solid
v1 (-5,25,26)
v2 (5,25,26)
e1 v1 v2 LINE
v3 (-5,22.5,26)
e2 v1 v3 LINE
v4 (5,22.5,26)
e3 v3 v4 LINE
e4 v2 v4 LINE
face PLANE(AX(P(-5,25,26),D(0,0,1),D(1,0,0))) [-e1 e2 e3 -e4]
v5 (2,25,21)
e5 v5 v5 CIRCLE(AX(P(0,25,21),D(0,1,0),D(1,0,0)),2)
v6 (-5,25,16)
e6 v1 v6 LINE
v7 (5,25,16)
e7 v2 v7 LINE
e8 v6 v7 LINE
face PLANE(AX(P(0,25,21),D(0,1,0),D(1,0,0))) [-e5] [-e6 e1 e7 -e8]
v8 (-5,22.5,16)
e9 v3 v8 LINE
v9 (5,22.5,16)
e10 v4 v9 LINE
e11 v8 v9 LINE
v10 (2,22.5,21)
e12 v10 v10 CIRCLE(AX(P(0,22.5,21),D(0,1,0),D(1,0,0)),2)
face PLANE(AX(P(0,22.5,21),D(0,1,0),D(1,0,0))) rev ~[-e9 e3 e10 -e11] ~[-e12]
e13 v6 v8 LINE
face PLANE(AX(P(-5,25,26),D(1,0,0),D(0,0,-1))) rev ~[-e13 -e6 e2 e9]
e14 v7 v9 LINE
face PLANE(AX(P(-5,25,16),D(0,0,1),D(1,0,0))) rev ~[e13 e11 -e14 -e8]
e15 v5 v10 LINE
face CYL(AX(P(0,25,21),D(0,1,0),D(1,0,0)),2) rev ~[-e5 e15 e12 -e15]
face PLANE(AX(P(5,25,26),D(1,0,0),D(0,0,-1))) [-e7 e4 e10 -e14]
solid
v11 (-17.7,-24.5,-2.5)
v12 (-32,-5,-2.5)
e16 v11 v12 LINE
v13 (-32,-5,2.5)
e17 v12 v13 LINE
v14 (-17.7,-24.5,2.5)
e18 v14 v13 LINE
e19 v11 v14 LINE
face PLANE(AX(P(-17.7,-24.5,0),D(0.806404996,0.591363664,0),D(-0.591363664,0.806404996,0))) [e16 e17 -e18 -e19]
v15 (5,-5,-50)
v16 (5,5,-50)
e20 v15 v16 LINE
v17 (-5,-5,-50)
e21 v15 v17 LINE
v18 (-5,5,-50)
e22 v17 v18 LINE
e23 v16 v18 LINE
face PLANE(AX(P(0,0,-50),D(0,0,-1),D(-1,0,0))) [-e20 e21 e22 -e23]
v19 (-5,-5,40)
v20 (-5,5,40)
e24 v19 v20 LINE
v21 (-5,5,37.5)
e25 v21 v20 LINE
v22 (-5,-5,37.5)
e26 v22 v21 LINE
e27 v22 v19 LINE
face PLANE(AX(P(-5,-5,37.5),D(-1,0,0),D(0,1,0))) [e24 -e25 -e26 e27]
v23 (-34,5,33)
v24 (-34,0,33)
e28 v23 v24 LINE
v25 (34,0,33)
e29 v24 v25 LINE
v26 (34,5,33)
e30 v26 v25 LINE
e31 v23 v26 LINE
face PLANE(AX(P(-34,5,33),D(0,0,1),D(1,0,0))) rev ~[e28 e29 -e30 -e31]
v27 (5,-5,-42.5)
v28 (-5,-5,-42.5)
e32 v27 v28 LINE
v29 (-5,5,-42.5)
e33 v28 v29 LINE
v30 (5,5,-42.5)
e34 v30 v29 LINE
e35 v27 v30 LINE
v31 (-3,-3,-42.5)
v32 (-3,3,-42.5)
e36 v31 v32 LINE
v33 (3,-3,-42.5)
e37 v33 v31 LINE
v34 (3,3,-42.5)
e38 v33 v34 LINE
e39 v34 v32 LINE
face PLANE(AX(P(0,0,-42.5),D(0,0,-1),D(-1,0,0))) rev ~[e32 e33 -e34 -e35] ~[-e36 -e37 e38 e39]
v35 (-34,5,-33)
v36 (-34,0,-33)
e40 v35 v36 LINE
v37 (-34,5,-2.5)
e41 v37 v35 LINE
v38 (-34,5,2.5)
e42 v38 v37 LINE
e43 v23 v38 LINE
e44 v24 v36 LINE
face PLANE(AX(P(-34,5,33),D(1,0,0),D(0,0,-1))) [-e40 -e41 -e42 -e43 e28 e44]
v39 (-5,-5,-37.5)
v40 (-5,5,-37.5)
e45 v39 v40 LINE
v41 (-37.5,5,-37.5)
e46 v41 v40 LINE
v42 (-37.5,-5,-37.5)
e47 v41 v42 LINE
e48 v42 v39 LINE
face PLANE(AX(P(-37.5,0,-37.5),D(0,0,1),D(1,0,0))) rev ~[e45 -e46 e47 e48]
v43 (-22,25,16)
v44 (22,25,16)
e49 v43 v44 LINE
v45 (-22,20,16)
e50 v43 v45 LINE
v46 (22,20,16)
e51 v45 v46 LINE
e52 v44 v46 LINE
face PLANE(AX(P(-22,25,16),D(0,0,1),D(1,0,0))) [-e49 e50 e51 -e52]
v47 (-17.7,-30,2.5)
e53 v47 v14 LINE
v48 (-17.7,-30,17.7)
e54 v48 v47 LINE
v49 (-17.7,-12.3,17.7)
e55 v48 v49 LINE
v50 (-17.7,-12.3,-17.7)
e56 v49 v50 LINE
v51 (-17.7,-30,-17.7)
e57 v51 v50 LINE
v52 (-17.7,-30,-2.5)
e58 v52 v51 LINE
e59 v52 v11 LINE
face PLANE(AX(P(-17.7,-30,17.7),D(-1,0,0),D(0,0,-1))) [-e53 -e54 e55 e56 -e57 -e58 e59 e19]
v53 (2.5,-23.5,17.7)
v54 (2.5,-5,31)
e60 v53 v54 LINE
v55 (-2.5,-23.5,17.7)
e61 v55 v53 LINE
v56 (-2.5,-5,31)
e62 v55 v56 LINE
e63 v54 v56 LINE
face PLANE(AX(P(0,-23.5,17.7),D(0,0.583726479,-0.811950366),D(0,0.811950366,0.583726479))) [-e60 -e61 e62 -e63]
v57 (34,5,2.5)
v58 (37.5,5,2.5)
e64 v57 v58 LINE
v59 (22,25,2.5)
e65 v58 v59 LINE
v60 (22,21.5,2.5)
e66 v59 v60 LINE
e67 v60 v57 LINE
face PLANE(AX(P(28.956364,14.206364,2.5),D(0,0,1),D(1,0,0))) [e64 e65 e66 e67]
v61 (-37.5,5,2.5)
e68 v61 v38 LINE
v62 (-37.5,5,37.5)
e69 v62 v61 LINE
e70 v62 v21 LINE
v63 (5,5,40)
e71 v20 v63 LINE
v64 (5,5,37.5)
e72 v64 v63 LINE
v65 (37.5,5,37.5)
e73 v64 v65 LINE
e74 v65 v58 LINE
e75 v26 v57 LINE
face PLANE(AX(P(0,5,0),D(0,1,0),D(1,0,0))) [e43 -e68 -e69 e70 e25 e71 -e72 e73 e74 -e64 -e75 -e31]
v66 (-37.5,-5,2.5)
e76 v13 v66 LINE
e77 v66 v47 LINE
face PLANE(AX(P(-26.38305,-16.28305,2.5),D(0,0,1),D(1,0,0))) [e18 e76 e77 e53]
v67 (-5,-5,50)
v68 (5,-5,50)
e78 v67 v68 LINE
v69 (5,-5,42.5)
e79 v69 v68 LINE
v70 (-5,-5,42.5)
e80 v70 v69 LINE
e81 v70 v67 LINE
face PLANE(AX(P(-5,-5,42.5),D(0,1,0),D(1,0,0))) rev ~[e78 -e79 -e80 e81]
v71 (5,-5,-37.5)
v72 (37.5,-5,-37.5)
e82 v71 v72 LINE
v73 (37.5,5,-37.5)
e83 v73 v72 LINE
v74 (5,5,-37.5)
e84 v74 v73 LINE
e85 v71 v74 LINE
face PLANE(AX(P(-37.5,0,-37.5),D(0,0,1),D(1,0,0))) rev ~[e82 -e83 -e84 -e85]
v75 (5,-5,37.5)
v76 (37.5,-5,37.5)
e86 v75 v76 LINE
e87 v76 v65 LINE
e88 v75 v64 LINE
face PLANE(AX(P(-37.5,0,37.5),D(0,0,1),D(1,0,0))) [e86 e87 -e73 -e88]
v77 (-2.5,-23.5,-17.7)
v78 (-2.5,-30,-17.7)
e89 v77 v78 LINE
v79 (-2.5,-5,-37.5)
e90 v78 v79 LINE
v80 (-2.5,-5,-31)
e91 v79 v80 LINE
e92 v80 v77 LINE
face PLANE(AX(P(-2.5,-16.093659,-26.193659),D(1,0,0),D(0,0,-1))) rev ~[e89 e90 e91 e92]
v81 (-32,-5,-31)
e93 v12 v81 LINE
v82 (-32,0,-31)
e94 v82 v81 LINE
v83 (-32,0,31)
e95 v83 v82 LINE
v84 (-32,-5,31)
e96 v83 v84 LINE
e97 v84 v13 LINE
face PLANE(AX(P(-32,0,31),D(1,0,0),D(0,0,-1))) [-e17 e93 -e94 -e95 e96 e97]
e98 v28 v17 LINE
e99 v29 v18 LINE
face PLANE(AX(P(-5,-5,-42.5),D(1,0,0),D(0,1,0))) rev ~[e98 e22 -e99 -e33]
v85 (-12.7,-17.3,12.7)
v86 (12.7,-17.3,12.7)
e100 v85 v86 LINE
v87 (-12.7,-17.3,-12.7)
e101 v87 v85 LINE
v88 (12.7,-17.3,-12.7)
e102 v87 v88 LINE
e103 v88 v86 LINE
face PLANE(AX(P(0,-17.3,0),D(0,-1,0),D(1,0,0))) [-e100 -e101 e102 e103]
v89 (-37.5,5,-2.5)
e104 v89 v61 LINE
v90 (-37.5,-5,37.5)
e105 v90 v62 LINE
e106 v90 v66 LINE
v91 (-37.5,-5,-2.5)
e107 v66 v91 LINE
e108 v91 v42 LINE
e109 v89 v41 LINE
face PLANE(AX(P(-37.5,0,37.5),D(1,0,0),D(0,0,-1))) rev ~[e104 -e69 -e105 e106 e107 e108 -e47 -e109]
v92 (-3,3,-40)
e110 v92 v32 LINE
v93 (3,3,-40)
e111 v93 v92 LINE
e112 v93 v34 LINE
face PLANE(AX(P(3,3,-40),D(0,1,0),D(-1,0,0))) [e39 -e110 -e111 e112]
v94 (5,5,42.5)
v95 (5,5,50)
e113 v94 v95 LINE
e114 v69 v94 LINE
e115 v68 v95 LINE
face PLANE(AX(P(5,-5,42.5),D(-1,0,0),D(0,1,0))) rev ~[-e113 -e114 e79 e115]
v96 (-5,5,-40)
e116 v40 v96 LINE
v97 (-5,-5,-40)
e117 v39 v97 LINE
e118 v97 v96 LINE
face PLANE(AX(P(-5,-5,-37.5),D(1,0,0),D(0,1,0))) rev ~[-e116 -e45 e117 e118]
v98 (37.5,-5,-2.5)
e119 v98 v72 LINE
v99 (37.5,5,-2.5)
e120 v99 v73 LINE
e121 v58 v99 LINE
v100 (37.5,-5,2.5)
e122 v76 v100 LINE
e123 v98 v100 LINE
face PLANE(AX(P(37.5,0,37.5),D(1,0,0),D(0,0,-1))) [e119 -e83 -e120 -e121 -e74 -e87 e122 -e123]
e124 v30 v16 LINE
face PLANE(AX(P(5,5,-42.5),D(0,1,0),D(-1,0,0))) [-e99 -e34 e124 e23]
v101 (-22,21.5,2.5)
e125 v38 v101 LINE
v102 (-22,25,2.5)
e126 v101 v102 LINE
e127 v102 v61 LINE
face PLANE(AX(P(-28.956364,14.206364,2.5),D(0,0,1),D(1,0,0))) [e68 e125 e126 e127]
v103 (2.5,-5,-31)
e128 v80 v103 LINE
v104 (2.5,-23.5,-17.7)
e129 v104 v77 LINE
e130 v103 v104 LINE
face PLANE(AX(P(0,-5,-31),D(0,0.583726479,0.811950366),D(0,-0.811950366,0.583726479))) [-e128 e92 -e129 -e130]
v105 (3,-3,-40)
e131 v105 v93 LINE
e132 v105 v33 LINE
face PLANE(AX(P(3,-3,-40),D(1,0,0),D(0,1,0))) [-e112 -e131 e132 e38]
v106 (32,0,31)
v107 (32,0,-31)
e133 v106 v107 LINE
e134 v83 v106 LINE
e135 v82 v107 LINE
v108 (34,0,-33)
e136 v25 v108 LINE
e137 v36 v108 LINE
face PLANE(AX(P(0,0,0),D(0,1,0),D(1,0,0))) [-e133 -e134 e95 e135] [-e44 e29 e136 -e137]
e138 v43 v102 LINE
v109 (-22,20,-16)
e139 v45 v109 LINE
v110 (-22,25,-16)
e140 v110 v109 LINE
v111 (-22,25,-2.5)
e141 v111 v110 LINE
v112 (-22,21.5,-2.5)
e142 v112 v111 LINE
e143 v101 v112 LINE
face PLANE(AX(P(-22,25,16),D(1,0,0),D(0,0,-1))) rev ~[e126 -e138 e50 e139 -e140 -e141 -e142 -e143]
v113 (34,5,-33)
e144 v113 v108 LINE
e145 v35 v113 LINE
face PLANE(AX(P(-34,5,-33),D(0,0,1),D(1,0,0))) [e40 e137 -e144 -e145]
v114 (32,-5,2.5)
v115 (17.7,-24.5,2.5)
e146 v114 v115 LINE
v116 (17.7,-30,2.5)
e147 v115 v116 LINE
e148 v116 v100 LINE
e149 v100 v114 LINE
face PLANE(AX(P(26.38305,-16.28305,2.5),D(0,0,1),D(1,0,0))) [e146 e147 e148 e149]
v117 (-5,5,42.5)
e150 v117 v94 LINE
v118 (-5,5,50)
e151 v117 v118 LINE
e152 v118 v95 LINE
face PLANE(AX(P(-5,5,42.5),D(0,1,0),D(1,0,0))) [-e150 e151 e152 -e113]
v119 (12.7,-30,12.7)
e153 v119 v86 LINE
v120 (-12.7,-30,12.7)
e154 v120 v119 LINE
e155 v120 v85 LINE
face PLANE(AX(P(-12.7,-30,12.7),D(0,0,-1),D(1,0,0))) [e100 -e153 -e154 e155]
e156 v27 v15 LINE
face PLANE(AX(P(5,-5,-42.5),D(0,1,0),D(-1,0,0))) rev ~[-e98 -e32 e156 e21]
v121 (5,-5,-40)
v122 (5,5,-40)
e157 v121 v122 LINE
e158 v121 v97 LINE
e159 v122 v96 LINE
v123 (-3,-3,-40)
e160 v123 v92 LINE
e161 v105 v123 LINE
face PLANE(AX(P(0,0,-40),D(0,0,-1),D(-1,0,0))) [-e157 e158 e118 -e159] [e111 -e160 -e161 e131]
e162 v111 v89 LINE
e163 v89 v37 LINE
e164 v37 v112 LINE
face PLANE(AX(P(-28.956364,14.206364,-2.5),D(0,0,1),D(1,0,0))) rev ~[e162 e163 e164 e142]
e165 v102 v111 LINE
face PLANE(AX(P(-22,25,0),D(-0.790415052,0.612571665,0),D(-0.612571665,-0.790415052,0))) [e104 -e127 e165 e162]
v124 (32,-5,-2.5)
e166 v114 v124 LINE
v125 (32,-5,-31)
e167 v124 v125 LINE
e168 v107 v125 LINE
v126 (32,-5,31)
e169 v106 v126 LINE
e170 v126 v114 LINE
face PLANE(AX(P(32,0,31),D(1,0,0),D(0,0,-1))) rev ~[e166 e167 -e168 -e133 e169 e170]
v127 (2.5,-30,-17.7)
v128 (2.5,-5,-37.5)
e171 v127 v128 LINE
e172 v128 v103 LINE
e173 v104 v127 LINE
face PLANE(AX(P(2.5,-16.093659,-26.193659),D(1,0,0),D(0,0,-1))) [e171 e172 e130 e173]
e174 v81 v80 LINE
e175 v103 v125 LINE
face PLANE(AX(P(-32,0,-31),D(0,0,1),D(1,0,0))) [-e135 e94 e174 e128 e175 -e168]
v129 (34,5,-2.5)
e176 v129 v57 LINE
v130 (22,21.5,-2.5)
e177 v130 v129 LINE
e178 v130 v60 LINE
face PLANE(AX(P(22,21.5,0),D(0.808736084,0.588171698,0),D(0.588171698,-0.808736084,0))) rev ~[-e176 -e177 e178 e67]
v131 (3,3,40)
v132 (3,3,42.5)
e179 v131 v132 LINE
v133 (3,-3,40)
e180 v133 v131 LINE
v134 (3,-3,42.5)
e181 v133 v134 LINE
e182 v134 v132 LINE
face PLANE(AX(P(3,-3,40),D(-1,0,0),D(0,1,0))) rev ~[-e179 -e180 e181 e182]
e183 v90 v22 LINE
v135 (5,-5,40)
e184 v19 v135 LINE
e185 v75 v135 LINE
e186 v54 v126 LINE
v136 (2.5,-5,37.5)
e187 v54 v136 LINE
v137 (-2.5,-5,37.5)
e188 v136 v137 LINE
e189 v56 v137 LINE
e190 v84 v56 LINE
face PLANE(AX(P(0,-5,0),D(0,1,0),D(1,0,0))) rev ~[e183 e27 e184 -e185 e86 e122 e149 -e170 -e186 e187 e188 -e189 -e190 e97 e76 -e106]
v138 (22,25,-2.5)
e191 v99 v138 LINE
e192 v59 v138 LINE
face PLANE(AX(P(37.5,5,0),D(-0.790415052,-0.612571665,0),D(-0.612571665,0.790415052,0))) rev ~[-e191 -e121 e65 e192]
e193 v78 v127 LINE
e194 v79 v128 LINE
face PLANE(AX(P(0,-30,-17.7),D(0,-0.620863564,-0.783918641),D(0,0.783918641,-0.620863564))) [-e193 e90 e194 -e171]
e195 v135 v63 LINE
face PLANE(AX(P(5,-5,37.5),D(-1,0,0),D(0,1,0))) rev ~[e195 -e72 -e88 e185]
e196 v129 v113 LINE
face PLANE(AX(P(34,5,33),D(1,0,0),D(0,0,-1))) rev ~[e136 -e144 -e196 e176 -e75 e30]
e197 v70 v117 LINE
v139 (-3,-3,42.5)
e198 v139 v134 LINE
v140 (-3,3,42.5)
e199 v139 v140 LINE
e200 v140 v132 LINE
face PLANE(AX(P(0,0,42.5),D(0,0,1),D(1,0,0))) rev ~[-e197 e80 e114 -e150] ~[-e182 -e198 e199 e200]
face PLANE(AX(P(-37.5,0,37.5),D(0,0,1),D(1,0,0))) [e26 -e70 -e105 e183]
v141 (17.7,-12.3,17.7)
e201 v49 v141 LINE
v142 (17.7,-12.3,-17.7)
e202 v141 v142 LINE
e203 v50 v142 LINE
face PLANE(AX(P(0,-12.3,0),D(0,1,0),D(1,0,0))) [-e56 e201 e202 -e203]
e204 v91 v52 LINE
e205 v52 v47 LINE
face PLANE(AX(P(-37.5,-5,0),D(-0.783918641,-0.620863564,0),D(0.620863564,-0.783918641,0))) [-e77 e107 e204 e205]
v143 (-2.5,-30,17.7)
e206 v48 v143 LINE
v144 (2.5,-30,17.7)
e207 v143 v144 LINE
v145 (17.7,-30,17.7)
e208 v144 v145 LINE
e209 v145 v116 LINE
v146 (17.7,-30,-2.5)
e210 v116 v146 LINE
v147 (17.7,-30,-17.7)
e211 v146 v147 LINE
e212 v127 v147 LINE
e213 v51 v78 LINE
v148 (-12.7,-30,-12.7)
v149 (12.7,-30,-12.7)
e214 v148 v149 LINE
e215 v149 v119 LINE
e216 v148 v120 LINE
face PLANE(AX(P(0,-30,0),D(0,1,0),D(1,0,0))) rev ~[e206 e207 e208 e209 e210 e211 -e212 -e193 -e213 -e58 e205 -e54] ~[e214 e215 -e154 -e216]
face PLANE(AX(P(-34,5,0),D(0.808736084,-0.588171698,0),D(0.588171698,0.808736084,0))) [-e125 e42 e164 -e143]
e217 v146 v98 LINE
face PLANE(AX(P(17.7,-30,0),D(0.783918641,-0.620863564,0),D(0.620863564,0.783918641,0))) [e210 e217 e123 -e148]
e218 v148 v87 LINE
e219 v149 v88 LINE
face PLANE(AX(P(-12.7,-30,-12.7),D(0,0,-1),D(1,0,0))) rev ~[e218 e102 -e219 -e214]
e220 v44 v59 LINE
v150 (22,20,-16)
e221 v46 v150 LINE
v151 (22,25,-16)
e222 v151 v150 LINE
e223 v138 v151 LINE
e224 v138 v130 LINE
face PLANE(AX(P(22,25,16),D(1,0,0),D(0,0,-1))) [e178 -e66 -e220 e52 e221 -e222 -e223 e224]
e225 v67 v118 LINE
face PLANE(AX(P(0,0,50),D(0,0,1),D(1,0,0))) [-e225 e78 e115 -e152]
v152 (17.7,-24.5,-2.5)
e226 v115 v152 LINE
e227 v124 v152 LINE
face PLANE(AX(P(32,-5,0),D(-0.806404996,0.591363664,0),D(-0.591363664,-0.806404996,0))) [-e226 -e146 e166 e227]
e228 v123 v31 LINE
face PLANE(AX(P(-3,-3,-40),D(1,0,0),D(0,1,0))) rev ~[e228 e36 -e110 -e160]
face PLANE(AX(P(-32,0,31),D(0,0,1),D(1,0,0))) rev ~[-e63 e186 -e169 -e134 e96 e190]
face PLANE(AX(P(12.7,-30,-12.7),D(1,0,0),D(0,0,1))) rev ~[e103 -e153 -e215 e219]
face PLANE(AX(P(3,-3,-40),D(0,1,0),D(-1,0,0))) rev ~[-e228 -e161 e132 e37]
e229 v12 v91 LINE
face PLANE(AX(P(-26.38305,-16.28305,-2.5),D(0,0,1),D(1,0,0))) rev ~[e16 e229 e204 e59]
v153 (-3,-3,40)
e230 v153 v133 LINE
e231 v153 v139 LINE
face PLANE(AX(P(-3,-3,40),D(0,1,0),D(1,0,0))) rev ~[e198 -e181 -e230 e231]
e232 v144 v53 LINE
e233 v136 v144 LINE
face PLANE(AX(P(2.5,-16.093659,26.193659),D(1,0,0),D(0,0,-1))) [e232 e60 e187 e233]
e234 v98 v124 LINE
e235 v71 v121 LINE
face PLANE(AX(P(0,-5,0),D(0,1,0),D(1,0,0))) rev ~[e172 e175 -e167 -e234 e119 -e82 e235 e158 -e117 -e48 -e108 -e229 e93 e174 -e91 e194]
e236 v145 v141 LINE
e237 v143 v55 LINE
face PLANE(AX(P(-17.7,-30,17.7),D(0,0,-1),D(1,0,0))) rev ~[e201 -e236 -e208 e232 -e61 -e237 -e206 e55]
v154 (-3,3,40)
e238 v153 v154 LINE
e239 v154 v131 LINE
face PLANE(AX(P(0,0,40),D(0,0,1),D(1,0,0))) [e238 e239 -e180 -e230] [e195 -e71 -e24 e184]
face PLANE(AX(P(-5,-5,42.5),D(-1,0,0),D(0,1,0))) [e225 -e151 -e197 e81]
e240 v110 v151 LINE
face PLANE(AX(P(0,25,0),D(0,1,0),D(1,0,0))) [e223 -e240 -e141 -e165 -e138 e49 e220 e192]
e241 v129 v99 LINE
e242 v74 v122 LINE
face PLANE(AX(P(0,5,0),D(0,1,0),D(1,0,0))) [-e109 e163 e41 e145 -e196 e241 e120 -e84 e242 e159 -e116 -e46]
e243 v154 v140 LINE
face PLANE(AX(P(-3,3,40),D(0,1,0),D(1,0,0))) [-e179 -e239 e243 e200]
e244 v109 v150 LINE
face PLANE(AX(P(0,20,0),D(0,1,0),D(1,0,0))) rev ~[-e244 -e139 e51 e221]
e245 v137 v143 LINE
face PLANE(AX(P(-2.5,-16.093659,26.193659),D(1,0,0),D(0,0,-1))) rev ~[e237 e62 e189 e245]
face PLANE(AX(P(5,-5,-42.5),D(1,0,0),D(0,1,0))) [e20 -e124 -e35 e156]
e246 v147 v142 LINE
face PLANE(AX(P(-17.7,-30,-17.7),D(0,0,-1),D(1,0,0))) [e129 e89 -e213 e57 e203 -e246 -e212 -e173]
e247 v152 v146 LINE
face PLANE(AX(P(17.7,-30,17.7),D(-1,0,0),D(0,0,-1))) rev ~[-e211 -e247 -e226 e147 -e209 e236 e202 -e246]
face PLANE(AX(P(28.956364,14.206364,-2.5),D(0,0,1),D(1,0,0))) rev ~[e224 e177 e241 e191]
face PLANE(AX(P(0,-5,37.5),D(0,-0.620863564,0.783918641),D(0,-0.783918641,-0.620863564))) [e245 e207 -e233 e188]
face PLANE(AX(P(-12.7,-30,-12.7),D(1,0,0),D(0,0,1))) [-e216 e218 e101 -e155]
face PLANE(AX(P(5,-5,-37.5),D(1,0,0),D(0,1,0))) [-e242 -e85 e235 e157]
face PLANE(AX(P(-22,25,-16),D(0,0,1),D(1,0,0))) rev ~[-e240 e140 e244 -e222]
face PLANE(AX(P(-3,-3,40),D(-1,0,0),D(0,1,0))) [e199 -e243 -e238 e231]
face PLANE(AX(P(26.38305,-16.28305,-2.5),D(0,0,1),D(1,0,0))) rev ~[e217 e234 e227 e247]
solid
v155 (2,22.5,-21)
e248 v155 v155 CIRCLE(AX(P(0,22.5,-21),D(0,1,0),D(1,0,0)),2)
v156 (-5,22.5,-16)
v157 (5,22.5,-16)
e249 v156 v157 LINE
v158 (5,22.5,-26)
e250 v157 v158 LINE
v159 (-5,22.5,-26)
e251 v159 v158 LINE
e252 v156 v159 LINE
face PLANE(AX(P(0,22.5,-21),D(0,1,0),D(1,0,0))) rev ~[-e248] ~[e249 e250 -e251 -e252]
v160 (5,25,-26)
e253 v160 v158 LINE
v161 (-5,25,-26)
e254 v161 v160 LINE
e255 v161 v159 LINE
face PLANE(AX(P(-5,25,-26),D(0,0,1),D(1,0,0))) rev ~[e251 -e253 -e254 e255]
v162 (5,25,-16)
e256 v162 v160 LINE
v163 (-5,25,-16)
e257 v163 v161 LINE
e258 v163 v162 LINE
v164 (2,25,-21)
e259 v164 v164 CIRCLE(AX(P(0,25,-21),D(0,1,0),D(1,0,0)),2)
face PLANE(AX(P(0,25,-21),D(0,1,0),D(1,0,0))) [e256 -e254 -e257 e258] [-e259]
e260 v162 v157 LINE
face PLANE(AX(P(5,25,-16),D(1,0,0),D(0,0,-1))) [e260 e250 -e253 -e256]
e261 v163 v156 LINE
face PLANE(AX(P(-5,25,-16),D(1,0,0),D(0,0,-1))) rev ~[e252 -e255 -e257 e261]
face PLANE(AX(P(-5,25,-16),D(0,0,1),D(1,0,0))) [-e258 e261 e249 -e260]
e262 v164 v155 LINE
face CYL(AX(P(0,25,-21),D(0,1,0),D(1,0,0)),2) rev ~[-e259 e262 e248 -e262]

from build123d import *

# Parameters (mm, degrees)
SKETCH2_W              = 75
SKETCH2_H              = 75
BOSS_EXTRUDE1_DEPTH    = 5
SKETCH2_2_W            = 75
SKETCH2_2_H            = 75
BOSS_EXTRUDE2_DEPTH    = 5
SKETCH4_W              = 68
SKETCH4_H              = 66
CUT_EXTRUDE1_DEPTH     = 5
SKETCH5_W              = 64
SKETCH5_H              = 62
CUT_EXTRUDE2_DEPTH     = 5
SKETCH6_W              = 10
SKETCH6_H              = 10
BOSS_EXTRUDE3_DEPTH    = 2.5
SKETCH7_W              = 6
SKETCH7_H              = 6
BOSS_EXTRUDE4_DEPTH    = 2.5
SKETCH8_W              = 10
SKETCH8_H              = 10
BOSS_EXTRUDE5_DEPTH    = 7.5
SKETCH9_W              = 10
SKETCH9_H              = 10
BOSS_EXTRUDE6_DEPTH    = 2.5
SKETCH10_W             = 6
SKETCH10_H             = 6
BOSS_EXTRUDE7_DEPTH    = 2.5
SKETCH11_W             = 10
SKETCH11_H             = 10
BOSS_EXTRUDE8_DEPTH    = 7.5
SKETCH12_W             = 35.4
SKETCH12_H             = 35.4
BOSS_EXTRUDE9_DEPTH    = 17.7
SKETCH13_W             = 25.4
SKETCH13_H             = 25.4
CUT_EXTRUDE3_DEPTH     = 12.7
SKETCH14_W             = 44
SKETCH14_H             = 32
BOSS_EXTRUDE10_DEPTH   = 5
BOSS_EXTRUDE11_DEPTH   = 2.5
BOSS_EXTRUDE12_DEPTH   = 2.5
BOSS_EXTRUDE13_DEPTH   = 2.5
BOSS_EXTRUDE14_DEPTH   = 2.5
BOSS_EXTRUDE21_DEPTH   = 2.5
BOSS_EXTRUDE22_DEPTH   = 2.5
BOSS_EXTRUDE23_DEPTH   = 2.5
BOSS_EXTRUDE24_DEPTH   = 2.5
SKETCH22_W             = 10
SKETCH22_H             = 10
BOSS_EXTRUDE25_DEPTH   = 2.5
BOSS_EXTRUDE25_2_DEPTH = 2.5
SKETCH23_R             = 2
CUT_EXTRUDE4_DEPTH     = 2.5


with BuildPart() as part:
    # Sketch2 → Boss-Extrude1 (new body)
    with BuildSketch(Plane(origin=(0, 0, 0), x_dir=(1, 0, 0), z_dir=(0, 1, 0))):
        Rectangle(SKETCH2_W, SKETCH2_H)
    extrude(amount=BOSS_EXTRUDE1_DEPTH)

    # Sketch2<2> → Boss-Extrude2 (add)
    with BuildSketch(Plane(origin=(0, 0, 0), x_dir=(1, 0, 0), z_dir=(0, 1, 0))):
        Rectangle(SKETCH2_2_W, SKETCH2_2_H)
    extrude(amount=-BOSS_EXTRUDE2_DEPTH)

    # Sketch4 → Cut-Extrude1 (cut)
    with BuildSketch(Plane(origin=(0, 5, 0), x_dir=(1, 0, 0), z_dir=(0, 1, 0))):
        Rectangle(SKETCH4_W, SKETCH4_H)
    extrude(amount=-CUT_EXTRUDE1_DEPTH, mode=Mode.SUBTRACT)

    # Sketch5 → Cut-Extrude2 (cut)
    with BuildSketch(Plane(origin=(0, 0, 0), x_dir=(1, 0, 0), z_dir=(0, 1, 0))):
        Rectangle(SKETCH5_W, SKETCH5_H)
    extrude(amount=-CUT_EXTRUDE2_DEPTH, mode=Mode.SUBTRACT)

    # Sketch6 → Boss-Extrude3 (add)
    with BuildSketch(Plane.XY.offset(37.5)):
        Rectangle(SKETCH6_W, SKETCH6_H)
    extrude(amount=BOSS_EXTRUDE3_DEPTH)

    # Sketch7 → Boss-Extrude4 (add)
    with BuildSketch(Plane.XY.offset(40)):
        Rectangle(SKETCH7_W, SKETCH7_H)
    extrude(amount=BOSS_EXTRUDE4_DEPTH)

    # Sketch8 → Boss-Extrude5 (add)
    with BuildSketch(Plane.XY.offset(42.5)):
        Rectangle(SKETCH8_W, SKETCH8_H)
    extrude(amount=BOSS_EXTRUDE5_DEPTH)

    # Sketch9 → Boss-Extrude6 (add)
    with BuildSketch(Plane(origin=(0, 0, -37.5), x_dir=(-1, 0, 0), z_dir=(0, 0, -1))):
        Rectangle(SKETCH9_W, SKETCH9_H)
    extrude(amount=BOSS_EXTRUDE6_DEPTH)

    # Sketch10 → Boss-Extrude7 (add)
    with BuildSketch(Plane(origin=(0, 0, -40), x_dir=(-1, 0, 0), z_dir=(0, 0, -1))):
        Rectangle(SKETCH10_W, SKETCH10_H)
    extrude(amount=BOSS_EXTRUDE7_DEPTH)

    # Sketch11 → Boss-Extrude8 (add)
    with BuildSketch(Plane(origin=(0, 0, -42.5), x_dir=(-1, 0, 0), z_dir=(0, 0, -1))):
        Rectangle(SKETCH11_W, SKETCH11_H)
    extrude(amount=BOSS_EXTRUDE8_DEPTH)



with BuildPart() as body_2:
    # Sketch12 → Boss-Extrude9 (new body)
    with BuildSketch(Plane(origin=(0, -30, 0), x_dir=(1, 0, 0), z_dir=(0, 1, 0))):
        Rectangle(SKETCH12_W, SKETCH12_H)
    extrude(amount=BOSS_EXTRUDE9_DEPTH)

    # Sketch13 → Cut-Extrude3 (cut)
    with BuildSketch(Plane.XZ.offset(30)):
        Rectangle(SKETCH13_W, SKETCH13_H)
    extrude(amount=-CUT_EXTRUDE3_DEPTH, mode=Mode.SUBTRACT)


with BuildPart() as body_3:
    # Sketch14 → Boss-Extrude10 (new body)
    with BuildSketch(Plane(origin=(0, 25, 0), x_dir=(1, 0, 0), z_dir=(0, 1, 0))):
        Rectangle(SKETCH14_W, SKETCH14_H)
    extrude(amount=-BOSS_EXTRUDE10_DEPTH)


with BuildPart() as part_1:
    add(part.part)

    add(body_2.part)  # Boss-Extrude11 merges body 2
    # Sketch15 → Boss-Extrude11 (add)
    with BuildSketch(Plane.XY):
        Polygon((17.7, -30), (37.5, -5), (32, -5), (17.7, -24.5), align=None)
    extrude(amount=BOSS_EXTRUDE11_DEPTH)

    # Sketch15<2> → Boss-Extrude12 (add)
    with BuildSketch(Plane.XY):
        Polygon((17.7, -30), (37.5, -5), (32, -5), (17.7, -24.5), align=None)
    extrude(amount=-BOSS_EXTRUDE12_DEPTH)

    # Sketch17 → Boss-Extrude13 (add)
    with BuildSketch(Plane.XY):
        Polygon((-37.5, -5), (-17.7, -30), (-17.7, -24.5), (-32, -5), align=None)
    extrude(amount=BOSS_EXTRUDE13_DEPTH)

    # Sketch17<2> → Boss-Extrude14 (add)
    with BuildSketch(Plane.XY):
        Polygon((-37.5, -5), (-17.7, -30), (-17.7, -24.5), (-32, -5), align=None)
    extrude(amount=-BOSS_EXTRUDE14_DEPTH)


    add(body_3.part)  # Boss-Extrude21 merges body 3
    # Sketch21 → Boss-Extrude21 (add)
    with BuildSketch(Plane.XY):
        Polygon((-22, 25), (-37.5, 5), (-34, 5), (-22, 21.5), align=None)
        Polygon((37.5, 5), (22, 25), (22, 21.5), (34, 5), align=None)
    extrude(amount=BOSS_EXTRUDE21_DEPTH)

    # Sketch21<2> → Boss-Extrude22 (add)
    with BuildSketch(Plane.XY):
        Polygon((-22, 25), (-37.5, 5), (-34, 5), (-22, 21.5), align=None)
        Polygon((37.5, 5), (22, 25), (22, 21.5), (34, 5), align=None)
    extrude(amount=-BOSS_EXTRUDE22_DEPTH)

    # Sketch20 → Boss-Extrude23 (add)
    with BuildSketch(Plane(origin=(0, 0, 0), x_dir=(0, 0, -1), z_dir=(1, 0, 0))):
        Polygon((-37.5, -5), (-17.7, -30), (-17.7, -23.5), (-31, -5), align=None)
        Polygon((17.7, -30), (37.5, -5), (31, -5), (17.7, -23.5), align=None)
    extrude(amount=BOSS_EXTRUDE23_DEPTH)

    # Sketch20<3> → Boss-Extrude24 (add)
    with BuildSketch(Plane(origin=(0, 0, 0), x_dir=(0, 0, -1), z_dir=(1, 0, 0))):
        Polygon((-37.5, -5), (-17.7, -30), (-17.7, -23.5), (-31, -5), align=None)
        Polygon((17.7, -30), (37.5, -5), (31, -5), (17.7, -23.5), align=None)
    extrude(amount=-BOSS_EXTRUDE24_DEPTH)


with BuildPart() as body_2_2:
    # Sketch22 → Boss-Extrude25 (new body)
    with BuildSketch(Plane(origin=(0, 25, 0), x_dir=(1, 0, 0), z_dir=(0, 1, 0))):
        with Locations((0, 21)):
            Rectangle(SKETCH22_W, SKETCH22_H)
    extrude(amount=-BOSS_EXTRUDE25_DEPTH)


with BuildPart() as body_3_2:
    # Sketch22 → Boss-Extrude25 2 (new body)
    with BuildSketch(Plane(origin=(0, 25, 0), x_dir=(1, 0, 0), z_dir=(0, 1, 0))):
        with Locations((0, -21)):
            Rectangle(SKETCH22_W, SKETCH22_H)
    extrude(amount=-BOSS_EXTRUDE25_2_DEPTH)


with BuildPart() as cut_extrude4_tool:
    # Sketch23 → Cut-Extrude4 (new body)
    with BuildSketch(Plane(origin=(0, 25, 0), x_dir=(1, 0, 0), z_dir=(0, 1, 0))):
        with Locations((0, 21)):
            Circle(SKETCH23_R)
        with Locations((0, -21)):
            Circle(SKETCH23_R)
    extrude(amount=-CUT_EXTRUDE4_DEPTH)


with BuildPart() as body_2_2_1:
    add(body_2_2.part)

    # Cut-Extrude4: cut by cut_extrude4_tool
    add(cut_extrude4_tool.part, mode=Mode.SUBTRACT)


with BuildPart() as body_3_2_1:
    add(body_3_2.part)

    # Cut-Extrude4: cut by cut_extrude4_tool
    add(cut_extrude4_tool.part, mode=Mode.SUBTRACT)


solid = Compound([part_1.part, body_2_2_1.part, body_3_2_1.part])
